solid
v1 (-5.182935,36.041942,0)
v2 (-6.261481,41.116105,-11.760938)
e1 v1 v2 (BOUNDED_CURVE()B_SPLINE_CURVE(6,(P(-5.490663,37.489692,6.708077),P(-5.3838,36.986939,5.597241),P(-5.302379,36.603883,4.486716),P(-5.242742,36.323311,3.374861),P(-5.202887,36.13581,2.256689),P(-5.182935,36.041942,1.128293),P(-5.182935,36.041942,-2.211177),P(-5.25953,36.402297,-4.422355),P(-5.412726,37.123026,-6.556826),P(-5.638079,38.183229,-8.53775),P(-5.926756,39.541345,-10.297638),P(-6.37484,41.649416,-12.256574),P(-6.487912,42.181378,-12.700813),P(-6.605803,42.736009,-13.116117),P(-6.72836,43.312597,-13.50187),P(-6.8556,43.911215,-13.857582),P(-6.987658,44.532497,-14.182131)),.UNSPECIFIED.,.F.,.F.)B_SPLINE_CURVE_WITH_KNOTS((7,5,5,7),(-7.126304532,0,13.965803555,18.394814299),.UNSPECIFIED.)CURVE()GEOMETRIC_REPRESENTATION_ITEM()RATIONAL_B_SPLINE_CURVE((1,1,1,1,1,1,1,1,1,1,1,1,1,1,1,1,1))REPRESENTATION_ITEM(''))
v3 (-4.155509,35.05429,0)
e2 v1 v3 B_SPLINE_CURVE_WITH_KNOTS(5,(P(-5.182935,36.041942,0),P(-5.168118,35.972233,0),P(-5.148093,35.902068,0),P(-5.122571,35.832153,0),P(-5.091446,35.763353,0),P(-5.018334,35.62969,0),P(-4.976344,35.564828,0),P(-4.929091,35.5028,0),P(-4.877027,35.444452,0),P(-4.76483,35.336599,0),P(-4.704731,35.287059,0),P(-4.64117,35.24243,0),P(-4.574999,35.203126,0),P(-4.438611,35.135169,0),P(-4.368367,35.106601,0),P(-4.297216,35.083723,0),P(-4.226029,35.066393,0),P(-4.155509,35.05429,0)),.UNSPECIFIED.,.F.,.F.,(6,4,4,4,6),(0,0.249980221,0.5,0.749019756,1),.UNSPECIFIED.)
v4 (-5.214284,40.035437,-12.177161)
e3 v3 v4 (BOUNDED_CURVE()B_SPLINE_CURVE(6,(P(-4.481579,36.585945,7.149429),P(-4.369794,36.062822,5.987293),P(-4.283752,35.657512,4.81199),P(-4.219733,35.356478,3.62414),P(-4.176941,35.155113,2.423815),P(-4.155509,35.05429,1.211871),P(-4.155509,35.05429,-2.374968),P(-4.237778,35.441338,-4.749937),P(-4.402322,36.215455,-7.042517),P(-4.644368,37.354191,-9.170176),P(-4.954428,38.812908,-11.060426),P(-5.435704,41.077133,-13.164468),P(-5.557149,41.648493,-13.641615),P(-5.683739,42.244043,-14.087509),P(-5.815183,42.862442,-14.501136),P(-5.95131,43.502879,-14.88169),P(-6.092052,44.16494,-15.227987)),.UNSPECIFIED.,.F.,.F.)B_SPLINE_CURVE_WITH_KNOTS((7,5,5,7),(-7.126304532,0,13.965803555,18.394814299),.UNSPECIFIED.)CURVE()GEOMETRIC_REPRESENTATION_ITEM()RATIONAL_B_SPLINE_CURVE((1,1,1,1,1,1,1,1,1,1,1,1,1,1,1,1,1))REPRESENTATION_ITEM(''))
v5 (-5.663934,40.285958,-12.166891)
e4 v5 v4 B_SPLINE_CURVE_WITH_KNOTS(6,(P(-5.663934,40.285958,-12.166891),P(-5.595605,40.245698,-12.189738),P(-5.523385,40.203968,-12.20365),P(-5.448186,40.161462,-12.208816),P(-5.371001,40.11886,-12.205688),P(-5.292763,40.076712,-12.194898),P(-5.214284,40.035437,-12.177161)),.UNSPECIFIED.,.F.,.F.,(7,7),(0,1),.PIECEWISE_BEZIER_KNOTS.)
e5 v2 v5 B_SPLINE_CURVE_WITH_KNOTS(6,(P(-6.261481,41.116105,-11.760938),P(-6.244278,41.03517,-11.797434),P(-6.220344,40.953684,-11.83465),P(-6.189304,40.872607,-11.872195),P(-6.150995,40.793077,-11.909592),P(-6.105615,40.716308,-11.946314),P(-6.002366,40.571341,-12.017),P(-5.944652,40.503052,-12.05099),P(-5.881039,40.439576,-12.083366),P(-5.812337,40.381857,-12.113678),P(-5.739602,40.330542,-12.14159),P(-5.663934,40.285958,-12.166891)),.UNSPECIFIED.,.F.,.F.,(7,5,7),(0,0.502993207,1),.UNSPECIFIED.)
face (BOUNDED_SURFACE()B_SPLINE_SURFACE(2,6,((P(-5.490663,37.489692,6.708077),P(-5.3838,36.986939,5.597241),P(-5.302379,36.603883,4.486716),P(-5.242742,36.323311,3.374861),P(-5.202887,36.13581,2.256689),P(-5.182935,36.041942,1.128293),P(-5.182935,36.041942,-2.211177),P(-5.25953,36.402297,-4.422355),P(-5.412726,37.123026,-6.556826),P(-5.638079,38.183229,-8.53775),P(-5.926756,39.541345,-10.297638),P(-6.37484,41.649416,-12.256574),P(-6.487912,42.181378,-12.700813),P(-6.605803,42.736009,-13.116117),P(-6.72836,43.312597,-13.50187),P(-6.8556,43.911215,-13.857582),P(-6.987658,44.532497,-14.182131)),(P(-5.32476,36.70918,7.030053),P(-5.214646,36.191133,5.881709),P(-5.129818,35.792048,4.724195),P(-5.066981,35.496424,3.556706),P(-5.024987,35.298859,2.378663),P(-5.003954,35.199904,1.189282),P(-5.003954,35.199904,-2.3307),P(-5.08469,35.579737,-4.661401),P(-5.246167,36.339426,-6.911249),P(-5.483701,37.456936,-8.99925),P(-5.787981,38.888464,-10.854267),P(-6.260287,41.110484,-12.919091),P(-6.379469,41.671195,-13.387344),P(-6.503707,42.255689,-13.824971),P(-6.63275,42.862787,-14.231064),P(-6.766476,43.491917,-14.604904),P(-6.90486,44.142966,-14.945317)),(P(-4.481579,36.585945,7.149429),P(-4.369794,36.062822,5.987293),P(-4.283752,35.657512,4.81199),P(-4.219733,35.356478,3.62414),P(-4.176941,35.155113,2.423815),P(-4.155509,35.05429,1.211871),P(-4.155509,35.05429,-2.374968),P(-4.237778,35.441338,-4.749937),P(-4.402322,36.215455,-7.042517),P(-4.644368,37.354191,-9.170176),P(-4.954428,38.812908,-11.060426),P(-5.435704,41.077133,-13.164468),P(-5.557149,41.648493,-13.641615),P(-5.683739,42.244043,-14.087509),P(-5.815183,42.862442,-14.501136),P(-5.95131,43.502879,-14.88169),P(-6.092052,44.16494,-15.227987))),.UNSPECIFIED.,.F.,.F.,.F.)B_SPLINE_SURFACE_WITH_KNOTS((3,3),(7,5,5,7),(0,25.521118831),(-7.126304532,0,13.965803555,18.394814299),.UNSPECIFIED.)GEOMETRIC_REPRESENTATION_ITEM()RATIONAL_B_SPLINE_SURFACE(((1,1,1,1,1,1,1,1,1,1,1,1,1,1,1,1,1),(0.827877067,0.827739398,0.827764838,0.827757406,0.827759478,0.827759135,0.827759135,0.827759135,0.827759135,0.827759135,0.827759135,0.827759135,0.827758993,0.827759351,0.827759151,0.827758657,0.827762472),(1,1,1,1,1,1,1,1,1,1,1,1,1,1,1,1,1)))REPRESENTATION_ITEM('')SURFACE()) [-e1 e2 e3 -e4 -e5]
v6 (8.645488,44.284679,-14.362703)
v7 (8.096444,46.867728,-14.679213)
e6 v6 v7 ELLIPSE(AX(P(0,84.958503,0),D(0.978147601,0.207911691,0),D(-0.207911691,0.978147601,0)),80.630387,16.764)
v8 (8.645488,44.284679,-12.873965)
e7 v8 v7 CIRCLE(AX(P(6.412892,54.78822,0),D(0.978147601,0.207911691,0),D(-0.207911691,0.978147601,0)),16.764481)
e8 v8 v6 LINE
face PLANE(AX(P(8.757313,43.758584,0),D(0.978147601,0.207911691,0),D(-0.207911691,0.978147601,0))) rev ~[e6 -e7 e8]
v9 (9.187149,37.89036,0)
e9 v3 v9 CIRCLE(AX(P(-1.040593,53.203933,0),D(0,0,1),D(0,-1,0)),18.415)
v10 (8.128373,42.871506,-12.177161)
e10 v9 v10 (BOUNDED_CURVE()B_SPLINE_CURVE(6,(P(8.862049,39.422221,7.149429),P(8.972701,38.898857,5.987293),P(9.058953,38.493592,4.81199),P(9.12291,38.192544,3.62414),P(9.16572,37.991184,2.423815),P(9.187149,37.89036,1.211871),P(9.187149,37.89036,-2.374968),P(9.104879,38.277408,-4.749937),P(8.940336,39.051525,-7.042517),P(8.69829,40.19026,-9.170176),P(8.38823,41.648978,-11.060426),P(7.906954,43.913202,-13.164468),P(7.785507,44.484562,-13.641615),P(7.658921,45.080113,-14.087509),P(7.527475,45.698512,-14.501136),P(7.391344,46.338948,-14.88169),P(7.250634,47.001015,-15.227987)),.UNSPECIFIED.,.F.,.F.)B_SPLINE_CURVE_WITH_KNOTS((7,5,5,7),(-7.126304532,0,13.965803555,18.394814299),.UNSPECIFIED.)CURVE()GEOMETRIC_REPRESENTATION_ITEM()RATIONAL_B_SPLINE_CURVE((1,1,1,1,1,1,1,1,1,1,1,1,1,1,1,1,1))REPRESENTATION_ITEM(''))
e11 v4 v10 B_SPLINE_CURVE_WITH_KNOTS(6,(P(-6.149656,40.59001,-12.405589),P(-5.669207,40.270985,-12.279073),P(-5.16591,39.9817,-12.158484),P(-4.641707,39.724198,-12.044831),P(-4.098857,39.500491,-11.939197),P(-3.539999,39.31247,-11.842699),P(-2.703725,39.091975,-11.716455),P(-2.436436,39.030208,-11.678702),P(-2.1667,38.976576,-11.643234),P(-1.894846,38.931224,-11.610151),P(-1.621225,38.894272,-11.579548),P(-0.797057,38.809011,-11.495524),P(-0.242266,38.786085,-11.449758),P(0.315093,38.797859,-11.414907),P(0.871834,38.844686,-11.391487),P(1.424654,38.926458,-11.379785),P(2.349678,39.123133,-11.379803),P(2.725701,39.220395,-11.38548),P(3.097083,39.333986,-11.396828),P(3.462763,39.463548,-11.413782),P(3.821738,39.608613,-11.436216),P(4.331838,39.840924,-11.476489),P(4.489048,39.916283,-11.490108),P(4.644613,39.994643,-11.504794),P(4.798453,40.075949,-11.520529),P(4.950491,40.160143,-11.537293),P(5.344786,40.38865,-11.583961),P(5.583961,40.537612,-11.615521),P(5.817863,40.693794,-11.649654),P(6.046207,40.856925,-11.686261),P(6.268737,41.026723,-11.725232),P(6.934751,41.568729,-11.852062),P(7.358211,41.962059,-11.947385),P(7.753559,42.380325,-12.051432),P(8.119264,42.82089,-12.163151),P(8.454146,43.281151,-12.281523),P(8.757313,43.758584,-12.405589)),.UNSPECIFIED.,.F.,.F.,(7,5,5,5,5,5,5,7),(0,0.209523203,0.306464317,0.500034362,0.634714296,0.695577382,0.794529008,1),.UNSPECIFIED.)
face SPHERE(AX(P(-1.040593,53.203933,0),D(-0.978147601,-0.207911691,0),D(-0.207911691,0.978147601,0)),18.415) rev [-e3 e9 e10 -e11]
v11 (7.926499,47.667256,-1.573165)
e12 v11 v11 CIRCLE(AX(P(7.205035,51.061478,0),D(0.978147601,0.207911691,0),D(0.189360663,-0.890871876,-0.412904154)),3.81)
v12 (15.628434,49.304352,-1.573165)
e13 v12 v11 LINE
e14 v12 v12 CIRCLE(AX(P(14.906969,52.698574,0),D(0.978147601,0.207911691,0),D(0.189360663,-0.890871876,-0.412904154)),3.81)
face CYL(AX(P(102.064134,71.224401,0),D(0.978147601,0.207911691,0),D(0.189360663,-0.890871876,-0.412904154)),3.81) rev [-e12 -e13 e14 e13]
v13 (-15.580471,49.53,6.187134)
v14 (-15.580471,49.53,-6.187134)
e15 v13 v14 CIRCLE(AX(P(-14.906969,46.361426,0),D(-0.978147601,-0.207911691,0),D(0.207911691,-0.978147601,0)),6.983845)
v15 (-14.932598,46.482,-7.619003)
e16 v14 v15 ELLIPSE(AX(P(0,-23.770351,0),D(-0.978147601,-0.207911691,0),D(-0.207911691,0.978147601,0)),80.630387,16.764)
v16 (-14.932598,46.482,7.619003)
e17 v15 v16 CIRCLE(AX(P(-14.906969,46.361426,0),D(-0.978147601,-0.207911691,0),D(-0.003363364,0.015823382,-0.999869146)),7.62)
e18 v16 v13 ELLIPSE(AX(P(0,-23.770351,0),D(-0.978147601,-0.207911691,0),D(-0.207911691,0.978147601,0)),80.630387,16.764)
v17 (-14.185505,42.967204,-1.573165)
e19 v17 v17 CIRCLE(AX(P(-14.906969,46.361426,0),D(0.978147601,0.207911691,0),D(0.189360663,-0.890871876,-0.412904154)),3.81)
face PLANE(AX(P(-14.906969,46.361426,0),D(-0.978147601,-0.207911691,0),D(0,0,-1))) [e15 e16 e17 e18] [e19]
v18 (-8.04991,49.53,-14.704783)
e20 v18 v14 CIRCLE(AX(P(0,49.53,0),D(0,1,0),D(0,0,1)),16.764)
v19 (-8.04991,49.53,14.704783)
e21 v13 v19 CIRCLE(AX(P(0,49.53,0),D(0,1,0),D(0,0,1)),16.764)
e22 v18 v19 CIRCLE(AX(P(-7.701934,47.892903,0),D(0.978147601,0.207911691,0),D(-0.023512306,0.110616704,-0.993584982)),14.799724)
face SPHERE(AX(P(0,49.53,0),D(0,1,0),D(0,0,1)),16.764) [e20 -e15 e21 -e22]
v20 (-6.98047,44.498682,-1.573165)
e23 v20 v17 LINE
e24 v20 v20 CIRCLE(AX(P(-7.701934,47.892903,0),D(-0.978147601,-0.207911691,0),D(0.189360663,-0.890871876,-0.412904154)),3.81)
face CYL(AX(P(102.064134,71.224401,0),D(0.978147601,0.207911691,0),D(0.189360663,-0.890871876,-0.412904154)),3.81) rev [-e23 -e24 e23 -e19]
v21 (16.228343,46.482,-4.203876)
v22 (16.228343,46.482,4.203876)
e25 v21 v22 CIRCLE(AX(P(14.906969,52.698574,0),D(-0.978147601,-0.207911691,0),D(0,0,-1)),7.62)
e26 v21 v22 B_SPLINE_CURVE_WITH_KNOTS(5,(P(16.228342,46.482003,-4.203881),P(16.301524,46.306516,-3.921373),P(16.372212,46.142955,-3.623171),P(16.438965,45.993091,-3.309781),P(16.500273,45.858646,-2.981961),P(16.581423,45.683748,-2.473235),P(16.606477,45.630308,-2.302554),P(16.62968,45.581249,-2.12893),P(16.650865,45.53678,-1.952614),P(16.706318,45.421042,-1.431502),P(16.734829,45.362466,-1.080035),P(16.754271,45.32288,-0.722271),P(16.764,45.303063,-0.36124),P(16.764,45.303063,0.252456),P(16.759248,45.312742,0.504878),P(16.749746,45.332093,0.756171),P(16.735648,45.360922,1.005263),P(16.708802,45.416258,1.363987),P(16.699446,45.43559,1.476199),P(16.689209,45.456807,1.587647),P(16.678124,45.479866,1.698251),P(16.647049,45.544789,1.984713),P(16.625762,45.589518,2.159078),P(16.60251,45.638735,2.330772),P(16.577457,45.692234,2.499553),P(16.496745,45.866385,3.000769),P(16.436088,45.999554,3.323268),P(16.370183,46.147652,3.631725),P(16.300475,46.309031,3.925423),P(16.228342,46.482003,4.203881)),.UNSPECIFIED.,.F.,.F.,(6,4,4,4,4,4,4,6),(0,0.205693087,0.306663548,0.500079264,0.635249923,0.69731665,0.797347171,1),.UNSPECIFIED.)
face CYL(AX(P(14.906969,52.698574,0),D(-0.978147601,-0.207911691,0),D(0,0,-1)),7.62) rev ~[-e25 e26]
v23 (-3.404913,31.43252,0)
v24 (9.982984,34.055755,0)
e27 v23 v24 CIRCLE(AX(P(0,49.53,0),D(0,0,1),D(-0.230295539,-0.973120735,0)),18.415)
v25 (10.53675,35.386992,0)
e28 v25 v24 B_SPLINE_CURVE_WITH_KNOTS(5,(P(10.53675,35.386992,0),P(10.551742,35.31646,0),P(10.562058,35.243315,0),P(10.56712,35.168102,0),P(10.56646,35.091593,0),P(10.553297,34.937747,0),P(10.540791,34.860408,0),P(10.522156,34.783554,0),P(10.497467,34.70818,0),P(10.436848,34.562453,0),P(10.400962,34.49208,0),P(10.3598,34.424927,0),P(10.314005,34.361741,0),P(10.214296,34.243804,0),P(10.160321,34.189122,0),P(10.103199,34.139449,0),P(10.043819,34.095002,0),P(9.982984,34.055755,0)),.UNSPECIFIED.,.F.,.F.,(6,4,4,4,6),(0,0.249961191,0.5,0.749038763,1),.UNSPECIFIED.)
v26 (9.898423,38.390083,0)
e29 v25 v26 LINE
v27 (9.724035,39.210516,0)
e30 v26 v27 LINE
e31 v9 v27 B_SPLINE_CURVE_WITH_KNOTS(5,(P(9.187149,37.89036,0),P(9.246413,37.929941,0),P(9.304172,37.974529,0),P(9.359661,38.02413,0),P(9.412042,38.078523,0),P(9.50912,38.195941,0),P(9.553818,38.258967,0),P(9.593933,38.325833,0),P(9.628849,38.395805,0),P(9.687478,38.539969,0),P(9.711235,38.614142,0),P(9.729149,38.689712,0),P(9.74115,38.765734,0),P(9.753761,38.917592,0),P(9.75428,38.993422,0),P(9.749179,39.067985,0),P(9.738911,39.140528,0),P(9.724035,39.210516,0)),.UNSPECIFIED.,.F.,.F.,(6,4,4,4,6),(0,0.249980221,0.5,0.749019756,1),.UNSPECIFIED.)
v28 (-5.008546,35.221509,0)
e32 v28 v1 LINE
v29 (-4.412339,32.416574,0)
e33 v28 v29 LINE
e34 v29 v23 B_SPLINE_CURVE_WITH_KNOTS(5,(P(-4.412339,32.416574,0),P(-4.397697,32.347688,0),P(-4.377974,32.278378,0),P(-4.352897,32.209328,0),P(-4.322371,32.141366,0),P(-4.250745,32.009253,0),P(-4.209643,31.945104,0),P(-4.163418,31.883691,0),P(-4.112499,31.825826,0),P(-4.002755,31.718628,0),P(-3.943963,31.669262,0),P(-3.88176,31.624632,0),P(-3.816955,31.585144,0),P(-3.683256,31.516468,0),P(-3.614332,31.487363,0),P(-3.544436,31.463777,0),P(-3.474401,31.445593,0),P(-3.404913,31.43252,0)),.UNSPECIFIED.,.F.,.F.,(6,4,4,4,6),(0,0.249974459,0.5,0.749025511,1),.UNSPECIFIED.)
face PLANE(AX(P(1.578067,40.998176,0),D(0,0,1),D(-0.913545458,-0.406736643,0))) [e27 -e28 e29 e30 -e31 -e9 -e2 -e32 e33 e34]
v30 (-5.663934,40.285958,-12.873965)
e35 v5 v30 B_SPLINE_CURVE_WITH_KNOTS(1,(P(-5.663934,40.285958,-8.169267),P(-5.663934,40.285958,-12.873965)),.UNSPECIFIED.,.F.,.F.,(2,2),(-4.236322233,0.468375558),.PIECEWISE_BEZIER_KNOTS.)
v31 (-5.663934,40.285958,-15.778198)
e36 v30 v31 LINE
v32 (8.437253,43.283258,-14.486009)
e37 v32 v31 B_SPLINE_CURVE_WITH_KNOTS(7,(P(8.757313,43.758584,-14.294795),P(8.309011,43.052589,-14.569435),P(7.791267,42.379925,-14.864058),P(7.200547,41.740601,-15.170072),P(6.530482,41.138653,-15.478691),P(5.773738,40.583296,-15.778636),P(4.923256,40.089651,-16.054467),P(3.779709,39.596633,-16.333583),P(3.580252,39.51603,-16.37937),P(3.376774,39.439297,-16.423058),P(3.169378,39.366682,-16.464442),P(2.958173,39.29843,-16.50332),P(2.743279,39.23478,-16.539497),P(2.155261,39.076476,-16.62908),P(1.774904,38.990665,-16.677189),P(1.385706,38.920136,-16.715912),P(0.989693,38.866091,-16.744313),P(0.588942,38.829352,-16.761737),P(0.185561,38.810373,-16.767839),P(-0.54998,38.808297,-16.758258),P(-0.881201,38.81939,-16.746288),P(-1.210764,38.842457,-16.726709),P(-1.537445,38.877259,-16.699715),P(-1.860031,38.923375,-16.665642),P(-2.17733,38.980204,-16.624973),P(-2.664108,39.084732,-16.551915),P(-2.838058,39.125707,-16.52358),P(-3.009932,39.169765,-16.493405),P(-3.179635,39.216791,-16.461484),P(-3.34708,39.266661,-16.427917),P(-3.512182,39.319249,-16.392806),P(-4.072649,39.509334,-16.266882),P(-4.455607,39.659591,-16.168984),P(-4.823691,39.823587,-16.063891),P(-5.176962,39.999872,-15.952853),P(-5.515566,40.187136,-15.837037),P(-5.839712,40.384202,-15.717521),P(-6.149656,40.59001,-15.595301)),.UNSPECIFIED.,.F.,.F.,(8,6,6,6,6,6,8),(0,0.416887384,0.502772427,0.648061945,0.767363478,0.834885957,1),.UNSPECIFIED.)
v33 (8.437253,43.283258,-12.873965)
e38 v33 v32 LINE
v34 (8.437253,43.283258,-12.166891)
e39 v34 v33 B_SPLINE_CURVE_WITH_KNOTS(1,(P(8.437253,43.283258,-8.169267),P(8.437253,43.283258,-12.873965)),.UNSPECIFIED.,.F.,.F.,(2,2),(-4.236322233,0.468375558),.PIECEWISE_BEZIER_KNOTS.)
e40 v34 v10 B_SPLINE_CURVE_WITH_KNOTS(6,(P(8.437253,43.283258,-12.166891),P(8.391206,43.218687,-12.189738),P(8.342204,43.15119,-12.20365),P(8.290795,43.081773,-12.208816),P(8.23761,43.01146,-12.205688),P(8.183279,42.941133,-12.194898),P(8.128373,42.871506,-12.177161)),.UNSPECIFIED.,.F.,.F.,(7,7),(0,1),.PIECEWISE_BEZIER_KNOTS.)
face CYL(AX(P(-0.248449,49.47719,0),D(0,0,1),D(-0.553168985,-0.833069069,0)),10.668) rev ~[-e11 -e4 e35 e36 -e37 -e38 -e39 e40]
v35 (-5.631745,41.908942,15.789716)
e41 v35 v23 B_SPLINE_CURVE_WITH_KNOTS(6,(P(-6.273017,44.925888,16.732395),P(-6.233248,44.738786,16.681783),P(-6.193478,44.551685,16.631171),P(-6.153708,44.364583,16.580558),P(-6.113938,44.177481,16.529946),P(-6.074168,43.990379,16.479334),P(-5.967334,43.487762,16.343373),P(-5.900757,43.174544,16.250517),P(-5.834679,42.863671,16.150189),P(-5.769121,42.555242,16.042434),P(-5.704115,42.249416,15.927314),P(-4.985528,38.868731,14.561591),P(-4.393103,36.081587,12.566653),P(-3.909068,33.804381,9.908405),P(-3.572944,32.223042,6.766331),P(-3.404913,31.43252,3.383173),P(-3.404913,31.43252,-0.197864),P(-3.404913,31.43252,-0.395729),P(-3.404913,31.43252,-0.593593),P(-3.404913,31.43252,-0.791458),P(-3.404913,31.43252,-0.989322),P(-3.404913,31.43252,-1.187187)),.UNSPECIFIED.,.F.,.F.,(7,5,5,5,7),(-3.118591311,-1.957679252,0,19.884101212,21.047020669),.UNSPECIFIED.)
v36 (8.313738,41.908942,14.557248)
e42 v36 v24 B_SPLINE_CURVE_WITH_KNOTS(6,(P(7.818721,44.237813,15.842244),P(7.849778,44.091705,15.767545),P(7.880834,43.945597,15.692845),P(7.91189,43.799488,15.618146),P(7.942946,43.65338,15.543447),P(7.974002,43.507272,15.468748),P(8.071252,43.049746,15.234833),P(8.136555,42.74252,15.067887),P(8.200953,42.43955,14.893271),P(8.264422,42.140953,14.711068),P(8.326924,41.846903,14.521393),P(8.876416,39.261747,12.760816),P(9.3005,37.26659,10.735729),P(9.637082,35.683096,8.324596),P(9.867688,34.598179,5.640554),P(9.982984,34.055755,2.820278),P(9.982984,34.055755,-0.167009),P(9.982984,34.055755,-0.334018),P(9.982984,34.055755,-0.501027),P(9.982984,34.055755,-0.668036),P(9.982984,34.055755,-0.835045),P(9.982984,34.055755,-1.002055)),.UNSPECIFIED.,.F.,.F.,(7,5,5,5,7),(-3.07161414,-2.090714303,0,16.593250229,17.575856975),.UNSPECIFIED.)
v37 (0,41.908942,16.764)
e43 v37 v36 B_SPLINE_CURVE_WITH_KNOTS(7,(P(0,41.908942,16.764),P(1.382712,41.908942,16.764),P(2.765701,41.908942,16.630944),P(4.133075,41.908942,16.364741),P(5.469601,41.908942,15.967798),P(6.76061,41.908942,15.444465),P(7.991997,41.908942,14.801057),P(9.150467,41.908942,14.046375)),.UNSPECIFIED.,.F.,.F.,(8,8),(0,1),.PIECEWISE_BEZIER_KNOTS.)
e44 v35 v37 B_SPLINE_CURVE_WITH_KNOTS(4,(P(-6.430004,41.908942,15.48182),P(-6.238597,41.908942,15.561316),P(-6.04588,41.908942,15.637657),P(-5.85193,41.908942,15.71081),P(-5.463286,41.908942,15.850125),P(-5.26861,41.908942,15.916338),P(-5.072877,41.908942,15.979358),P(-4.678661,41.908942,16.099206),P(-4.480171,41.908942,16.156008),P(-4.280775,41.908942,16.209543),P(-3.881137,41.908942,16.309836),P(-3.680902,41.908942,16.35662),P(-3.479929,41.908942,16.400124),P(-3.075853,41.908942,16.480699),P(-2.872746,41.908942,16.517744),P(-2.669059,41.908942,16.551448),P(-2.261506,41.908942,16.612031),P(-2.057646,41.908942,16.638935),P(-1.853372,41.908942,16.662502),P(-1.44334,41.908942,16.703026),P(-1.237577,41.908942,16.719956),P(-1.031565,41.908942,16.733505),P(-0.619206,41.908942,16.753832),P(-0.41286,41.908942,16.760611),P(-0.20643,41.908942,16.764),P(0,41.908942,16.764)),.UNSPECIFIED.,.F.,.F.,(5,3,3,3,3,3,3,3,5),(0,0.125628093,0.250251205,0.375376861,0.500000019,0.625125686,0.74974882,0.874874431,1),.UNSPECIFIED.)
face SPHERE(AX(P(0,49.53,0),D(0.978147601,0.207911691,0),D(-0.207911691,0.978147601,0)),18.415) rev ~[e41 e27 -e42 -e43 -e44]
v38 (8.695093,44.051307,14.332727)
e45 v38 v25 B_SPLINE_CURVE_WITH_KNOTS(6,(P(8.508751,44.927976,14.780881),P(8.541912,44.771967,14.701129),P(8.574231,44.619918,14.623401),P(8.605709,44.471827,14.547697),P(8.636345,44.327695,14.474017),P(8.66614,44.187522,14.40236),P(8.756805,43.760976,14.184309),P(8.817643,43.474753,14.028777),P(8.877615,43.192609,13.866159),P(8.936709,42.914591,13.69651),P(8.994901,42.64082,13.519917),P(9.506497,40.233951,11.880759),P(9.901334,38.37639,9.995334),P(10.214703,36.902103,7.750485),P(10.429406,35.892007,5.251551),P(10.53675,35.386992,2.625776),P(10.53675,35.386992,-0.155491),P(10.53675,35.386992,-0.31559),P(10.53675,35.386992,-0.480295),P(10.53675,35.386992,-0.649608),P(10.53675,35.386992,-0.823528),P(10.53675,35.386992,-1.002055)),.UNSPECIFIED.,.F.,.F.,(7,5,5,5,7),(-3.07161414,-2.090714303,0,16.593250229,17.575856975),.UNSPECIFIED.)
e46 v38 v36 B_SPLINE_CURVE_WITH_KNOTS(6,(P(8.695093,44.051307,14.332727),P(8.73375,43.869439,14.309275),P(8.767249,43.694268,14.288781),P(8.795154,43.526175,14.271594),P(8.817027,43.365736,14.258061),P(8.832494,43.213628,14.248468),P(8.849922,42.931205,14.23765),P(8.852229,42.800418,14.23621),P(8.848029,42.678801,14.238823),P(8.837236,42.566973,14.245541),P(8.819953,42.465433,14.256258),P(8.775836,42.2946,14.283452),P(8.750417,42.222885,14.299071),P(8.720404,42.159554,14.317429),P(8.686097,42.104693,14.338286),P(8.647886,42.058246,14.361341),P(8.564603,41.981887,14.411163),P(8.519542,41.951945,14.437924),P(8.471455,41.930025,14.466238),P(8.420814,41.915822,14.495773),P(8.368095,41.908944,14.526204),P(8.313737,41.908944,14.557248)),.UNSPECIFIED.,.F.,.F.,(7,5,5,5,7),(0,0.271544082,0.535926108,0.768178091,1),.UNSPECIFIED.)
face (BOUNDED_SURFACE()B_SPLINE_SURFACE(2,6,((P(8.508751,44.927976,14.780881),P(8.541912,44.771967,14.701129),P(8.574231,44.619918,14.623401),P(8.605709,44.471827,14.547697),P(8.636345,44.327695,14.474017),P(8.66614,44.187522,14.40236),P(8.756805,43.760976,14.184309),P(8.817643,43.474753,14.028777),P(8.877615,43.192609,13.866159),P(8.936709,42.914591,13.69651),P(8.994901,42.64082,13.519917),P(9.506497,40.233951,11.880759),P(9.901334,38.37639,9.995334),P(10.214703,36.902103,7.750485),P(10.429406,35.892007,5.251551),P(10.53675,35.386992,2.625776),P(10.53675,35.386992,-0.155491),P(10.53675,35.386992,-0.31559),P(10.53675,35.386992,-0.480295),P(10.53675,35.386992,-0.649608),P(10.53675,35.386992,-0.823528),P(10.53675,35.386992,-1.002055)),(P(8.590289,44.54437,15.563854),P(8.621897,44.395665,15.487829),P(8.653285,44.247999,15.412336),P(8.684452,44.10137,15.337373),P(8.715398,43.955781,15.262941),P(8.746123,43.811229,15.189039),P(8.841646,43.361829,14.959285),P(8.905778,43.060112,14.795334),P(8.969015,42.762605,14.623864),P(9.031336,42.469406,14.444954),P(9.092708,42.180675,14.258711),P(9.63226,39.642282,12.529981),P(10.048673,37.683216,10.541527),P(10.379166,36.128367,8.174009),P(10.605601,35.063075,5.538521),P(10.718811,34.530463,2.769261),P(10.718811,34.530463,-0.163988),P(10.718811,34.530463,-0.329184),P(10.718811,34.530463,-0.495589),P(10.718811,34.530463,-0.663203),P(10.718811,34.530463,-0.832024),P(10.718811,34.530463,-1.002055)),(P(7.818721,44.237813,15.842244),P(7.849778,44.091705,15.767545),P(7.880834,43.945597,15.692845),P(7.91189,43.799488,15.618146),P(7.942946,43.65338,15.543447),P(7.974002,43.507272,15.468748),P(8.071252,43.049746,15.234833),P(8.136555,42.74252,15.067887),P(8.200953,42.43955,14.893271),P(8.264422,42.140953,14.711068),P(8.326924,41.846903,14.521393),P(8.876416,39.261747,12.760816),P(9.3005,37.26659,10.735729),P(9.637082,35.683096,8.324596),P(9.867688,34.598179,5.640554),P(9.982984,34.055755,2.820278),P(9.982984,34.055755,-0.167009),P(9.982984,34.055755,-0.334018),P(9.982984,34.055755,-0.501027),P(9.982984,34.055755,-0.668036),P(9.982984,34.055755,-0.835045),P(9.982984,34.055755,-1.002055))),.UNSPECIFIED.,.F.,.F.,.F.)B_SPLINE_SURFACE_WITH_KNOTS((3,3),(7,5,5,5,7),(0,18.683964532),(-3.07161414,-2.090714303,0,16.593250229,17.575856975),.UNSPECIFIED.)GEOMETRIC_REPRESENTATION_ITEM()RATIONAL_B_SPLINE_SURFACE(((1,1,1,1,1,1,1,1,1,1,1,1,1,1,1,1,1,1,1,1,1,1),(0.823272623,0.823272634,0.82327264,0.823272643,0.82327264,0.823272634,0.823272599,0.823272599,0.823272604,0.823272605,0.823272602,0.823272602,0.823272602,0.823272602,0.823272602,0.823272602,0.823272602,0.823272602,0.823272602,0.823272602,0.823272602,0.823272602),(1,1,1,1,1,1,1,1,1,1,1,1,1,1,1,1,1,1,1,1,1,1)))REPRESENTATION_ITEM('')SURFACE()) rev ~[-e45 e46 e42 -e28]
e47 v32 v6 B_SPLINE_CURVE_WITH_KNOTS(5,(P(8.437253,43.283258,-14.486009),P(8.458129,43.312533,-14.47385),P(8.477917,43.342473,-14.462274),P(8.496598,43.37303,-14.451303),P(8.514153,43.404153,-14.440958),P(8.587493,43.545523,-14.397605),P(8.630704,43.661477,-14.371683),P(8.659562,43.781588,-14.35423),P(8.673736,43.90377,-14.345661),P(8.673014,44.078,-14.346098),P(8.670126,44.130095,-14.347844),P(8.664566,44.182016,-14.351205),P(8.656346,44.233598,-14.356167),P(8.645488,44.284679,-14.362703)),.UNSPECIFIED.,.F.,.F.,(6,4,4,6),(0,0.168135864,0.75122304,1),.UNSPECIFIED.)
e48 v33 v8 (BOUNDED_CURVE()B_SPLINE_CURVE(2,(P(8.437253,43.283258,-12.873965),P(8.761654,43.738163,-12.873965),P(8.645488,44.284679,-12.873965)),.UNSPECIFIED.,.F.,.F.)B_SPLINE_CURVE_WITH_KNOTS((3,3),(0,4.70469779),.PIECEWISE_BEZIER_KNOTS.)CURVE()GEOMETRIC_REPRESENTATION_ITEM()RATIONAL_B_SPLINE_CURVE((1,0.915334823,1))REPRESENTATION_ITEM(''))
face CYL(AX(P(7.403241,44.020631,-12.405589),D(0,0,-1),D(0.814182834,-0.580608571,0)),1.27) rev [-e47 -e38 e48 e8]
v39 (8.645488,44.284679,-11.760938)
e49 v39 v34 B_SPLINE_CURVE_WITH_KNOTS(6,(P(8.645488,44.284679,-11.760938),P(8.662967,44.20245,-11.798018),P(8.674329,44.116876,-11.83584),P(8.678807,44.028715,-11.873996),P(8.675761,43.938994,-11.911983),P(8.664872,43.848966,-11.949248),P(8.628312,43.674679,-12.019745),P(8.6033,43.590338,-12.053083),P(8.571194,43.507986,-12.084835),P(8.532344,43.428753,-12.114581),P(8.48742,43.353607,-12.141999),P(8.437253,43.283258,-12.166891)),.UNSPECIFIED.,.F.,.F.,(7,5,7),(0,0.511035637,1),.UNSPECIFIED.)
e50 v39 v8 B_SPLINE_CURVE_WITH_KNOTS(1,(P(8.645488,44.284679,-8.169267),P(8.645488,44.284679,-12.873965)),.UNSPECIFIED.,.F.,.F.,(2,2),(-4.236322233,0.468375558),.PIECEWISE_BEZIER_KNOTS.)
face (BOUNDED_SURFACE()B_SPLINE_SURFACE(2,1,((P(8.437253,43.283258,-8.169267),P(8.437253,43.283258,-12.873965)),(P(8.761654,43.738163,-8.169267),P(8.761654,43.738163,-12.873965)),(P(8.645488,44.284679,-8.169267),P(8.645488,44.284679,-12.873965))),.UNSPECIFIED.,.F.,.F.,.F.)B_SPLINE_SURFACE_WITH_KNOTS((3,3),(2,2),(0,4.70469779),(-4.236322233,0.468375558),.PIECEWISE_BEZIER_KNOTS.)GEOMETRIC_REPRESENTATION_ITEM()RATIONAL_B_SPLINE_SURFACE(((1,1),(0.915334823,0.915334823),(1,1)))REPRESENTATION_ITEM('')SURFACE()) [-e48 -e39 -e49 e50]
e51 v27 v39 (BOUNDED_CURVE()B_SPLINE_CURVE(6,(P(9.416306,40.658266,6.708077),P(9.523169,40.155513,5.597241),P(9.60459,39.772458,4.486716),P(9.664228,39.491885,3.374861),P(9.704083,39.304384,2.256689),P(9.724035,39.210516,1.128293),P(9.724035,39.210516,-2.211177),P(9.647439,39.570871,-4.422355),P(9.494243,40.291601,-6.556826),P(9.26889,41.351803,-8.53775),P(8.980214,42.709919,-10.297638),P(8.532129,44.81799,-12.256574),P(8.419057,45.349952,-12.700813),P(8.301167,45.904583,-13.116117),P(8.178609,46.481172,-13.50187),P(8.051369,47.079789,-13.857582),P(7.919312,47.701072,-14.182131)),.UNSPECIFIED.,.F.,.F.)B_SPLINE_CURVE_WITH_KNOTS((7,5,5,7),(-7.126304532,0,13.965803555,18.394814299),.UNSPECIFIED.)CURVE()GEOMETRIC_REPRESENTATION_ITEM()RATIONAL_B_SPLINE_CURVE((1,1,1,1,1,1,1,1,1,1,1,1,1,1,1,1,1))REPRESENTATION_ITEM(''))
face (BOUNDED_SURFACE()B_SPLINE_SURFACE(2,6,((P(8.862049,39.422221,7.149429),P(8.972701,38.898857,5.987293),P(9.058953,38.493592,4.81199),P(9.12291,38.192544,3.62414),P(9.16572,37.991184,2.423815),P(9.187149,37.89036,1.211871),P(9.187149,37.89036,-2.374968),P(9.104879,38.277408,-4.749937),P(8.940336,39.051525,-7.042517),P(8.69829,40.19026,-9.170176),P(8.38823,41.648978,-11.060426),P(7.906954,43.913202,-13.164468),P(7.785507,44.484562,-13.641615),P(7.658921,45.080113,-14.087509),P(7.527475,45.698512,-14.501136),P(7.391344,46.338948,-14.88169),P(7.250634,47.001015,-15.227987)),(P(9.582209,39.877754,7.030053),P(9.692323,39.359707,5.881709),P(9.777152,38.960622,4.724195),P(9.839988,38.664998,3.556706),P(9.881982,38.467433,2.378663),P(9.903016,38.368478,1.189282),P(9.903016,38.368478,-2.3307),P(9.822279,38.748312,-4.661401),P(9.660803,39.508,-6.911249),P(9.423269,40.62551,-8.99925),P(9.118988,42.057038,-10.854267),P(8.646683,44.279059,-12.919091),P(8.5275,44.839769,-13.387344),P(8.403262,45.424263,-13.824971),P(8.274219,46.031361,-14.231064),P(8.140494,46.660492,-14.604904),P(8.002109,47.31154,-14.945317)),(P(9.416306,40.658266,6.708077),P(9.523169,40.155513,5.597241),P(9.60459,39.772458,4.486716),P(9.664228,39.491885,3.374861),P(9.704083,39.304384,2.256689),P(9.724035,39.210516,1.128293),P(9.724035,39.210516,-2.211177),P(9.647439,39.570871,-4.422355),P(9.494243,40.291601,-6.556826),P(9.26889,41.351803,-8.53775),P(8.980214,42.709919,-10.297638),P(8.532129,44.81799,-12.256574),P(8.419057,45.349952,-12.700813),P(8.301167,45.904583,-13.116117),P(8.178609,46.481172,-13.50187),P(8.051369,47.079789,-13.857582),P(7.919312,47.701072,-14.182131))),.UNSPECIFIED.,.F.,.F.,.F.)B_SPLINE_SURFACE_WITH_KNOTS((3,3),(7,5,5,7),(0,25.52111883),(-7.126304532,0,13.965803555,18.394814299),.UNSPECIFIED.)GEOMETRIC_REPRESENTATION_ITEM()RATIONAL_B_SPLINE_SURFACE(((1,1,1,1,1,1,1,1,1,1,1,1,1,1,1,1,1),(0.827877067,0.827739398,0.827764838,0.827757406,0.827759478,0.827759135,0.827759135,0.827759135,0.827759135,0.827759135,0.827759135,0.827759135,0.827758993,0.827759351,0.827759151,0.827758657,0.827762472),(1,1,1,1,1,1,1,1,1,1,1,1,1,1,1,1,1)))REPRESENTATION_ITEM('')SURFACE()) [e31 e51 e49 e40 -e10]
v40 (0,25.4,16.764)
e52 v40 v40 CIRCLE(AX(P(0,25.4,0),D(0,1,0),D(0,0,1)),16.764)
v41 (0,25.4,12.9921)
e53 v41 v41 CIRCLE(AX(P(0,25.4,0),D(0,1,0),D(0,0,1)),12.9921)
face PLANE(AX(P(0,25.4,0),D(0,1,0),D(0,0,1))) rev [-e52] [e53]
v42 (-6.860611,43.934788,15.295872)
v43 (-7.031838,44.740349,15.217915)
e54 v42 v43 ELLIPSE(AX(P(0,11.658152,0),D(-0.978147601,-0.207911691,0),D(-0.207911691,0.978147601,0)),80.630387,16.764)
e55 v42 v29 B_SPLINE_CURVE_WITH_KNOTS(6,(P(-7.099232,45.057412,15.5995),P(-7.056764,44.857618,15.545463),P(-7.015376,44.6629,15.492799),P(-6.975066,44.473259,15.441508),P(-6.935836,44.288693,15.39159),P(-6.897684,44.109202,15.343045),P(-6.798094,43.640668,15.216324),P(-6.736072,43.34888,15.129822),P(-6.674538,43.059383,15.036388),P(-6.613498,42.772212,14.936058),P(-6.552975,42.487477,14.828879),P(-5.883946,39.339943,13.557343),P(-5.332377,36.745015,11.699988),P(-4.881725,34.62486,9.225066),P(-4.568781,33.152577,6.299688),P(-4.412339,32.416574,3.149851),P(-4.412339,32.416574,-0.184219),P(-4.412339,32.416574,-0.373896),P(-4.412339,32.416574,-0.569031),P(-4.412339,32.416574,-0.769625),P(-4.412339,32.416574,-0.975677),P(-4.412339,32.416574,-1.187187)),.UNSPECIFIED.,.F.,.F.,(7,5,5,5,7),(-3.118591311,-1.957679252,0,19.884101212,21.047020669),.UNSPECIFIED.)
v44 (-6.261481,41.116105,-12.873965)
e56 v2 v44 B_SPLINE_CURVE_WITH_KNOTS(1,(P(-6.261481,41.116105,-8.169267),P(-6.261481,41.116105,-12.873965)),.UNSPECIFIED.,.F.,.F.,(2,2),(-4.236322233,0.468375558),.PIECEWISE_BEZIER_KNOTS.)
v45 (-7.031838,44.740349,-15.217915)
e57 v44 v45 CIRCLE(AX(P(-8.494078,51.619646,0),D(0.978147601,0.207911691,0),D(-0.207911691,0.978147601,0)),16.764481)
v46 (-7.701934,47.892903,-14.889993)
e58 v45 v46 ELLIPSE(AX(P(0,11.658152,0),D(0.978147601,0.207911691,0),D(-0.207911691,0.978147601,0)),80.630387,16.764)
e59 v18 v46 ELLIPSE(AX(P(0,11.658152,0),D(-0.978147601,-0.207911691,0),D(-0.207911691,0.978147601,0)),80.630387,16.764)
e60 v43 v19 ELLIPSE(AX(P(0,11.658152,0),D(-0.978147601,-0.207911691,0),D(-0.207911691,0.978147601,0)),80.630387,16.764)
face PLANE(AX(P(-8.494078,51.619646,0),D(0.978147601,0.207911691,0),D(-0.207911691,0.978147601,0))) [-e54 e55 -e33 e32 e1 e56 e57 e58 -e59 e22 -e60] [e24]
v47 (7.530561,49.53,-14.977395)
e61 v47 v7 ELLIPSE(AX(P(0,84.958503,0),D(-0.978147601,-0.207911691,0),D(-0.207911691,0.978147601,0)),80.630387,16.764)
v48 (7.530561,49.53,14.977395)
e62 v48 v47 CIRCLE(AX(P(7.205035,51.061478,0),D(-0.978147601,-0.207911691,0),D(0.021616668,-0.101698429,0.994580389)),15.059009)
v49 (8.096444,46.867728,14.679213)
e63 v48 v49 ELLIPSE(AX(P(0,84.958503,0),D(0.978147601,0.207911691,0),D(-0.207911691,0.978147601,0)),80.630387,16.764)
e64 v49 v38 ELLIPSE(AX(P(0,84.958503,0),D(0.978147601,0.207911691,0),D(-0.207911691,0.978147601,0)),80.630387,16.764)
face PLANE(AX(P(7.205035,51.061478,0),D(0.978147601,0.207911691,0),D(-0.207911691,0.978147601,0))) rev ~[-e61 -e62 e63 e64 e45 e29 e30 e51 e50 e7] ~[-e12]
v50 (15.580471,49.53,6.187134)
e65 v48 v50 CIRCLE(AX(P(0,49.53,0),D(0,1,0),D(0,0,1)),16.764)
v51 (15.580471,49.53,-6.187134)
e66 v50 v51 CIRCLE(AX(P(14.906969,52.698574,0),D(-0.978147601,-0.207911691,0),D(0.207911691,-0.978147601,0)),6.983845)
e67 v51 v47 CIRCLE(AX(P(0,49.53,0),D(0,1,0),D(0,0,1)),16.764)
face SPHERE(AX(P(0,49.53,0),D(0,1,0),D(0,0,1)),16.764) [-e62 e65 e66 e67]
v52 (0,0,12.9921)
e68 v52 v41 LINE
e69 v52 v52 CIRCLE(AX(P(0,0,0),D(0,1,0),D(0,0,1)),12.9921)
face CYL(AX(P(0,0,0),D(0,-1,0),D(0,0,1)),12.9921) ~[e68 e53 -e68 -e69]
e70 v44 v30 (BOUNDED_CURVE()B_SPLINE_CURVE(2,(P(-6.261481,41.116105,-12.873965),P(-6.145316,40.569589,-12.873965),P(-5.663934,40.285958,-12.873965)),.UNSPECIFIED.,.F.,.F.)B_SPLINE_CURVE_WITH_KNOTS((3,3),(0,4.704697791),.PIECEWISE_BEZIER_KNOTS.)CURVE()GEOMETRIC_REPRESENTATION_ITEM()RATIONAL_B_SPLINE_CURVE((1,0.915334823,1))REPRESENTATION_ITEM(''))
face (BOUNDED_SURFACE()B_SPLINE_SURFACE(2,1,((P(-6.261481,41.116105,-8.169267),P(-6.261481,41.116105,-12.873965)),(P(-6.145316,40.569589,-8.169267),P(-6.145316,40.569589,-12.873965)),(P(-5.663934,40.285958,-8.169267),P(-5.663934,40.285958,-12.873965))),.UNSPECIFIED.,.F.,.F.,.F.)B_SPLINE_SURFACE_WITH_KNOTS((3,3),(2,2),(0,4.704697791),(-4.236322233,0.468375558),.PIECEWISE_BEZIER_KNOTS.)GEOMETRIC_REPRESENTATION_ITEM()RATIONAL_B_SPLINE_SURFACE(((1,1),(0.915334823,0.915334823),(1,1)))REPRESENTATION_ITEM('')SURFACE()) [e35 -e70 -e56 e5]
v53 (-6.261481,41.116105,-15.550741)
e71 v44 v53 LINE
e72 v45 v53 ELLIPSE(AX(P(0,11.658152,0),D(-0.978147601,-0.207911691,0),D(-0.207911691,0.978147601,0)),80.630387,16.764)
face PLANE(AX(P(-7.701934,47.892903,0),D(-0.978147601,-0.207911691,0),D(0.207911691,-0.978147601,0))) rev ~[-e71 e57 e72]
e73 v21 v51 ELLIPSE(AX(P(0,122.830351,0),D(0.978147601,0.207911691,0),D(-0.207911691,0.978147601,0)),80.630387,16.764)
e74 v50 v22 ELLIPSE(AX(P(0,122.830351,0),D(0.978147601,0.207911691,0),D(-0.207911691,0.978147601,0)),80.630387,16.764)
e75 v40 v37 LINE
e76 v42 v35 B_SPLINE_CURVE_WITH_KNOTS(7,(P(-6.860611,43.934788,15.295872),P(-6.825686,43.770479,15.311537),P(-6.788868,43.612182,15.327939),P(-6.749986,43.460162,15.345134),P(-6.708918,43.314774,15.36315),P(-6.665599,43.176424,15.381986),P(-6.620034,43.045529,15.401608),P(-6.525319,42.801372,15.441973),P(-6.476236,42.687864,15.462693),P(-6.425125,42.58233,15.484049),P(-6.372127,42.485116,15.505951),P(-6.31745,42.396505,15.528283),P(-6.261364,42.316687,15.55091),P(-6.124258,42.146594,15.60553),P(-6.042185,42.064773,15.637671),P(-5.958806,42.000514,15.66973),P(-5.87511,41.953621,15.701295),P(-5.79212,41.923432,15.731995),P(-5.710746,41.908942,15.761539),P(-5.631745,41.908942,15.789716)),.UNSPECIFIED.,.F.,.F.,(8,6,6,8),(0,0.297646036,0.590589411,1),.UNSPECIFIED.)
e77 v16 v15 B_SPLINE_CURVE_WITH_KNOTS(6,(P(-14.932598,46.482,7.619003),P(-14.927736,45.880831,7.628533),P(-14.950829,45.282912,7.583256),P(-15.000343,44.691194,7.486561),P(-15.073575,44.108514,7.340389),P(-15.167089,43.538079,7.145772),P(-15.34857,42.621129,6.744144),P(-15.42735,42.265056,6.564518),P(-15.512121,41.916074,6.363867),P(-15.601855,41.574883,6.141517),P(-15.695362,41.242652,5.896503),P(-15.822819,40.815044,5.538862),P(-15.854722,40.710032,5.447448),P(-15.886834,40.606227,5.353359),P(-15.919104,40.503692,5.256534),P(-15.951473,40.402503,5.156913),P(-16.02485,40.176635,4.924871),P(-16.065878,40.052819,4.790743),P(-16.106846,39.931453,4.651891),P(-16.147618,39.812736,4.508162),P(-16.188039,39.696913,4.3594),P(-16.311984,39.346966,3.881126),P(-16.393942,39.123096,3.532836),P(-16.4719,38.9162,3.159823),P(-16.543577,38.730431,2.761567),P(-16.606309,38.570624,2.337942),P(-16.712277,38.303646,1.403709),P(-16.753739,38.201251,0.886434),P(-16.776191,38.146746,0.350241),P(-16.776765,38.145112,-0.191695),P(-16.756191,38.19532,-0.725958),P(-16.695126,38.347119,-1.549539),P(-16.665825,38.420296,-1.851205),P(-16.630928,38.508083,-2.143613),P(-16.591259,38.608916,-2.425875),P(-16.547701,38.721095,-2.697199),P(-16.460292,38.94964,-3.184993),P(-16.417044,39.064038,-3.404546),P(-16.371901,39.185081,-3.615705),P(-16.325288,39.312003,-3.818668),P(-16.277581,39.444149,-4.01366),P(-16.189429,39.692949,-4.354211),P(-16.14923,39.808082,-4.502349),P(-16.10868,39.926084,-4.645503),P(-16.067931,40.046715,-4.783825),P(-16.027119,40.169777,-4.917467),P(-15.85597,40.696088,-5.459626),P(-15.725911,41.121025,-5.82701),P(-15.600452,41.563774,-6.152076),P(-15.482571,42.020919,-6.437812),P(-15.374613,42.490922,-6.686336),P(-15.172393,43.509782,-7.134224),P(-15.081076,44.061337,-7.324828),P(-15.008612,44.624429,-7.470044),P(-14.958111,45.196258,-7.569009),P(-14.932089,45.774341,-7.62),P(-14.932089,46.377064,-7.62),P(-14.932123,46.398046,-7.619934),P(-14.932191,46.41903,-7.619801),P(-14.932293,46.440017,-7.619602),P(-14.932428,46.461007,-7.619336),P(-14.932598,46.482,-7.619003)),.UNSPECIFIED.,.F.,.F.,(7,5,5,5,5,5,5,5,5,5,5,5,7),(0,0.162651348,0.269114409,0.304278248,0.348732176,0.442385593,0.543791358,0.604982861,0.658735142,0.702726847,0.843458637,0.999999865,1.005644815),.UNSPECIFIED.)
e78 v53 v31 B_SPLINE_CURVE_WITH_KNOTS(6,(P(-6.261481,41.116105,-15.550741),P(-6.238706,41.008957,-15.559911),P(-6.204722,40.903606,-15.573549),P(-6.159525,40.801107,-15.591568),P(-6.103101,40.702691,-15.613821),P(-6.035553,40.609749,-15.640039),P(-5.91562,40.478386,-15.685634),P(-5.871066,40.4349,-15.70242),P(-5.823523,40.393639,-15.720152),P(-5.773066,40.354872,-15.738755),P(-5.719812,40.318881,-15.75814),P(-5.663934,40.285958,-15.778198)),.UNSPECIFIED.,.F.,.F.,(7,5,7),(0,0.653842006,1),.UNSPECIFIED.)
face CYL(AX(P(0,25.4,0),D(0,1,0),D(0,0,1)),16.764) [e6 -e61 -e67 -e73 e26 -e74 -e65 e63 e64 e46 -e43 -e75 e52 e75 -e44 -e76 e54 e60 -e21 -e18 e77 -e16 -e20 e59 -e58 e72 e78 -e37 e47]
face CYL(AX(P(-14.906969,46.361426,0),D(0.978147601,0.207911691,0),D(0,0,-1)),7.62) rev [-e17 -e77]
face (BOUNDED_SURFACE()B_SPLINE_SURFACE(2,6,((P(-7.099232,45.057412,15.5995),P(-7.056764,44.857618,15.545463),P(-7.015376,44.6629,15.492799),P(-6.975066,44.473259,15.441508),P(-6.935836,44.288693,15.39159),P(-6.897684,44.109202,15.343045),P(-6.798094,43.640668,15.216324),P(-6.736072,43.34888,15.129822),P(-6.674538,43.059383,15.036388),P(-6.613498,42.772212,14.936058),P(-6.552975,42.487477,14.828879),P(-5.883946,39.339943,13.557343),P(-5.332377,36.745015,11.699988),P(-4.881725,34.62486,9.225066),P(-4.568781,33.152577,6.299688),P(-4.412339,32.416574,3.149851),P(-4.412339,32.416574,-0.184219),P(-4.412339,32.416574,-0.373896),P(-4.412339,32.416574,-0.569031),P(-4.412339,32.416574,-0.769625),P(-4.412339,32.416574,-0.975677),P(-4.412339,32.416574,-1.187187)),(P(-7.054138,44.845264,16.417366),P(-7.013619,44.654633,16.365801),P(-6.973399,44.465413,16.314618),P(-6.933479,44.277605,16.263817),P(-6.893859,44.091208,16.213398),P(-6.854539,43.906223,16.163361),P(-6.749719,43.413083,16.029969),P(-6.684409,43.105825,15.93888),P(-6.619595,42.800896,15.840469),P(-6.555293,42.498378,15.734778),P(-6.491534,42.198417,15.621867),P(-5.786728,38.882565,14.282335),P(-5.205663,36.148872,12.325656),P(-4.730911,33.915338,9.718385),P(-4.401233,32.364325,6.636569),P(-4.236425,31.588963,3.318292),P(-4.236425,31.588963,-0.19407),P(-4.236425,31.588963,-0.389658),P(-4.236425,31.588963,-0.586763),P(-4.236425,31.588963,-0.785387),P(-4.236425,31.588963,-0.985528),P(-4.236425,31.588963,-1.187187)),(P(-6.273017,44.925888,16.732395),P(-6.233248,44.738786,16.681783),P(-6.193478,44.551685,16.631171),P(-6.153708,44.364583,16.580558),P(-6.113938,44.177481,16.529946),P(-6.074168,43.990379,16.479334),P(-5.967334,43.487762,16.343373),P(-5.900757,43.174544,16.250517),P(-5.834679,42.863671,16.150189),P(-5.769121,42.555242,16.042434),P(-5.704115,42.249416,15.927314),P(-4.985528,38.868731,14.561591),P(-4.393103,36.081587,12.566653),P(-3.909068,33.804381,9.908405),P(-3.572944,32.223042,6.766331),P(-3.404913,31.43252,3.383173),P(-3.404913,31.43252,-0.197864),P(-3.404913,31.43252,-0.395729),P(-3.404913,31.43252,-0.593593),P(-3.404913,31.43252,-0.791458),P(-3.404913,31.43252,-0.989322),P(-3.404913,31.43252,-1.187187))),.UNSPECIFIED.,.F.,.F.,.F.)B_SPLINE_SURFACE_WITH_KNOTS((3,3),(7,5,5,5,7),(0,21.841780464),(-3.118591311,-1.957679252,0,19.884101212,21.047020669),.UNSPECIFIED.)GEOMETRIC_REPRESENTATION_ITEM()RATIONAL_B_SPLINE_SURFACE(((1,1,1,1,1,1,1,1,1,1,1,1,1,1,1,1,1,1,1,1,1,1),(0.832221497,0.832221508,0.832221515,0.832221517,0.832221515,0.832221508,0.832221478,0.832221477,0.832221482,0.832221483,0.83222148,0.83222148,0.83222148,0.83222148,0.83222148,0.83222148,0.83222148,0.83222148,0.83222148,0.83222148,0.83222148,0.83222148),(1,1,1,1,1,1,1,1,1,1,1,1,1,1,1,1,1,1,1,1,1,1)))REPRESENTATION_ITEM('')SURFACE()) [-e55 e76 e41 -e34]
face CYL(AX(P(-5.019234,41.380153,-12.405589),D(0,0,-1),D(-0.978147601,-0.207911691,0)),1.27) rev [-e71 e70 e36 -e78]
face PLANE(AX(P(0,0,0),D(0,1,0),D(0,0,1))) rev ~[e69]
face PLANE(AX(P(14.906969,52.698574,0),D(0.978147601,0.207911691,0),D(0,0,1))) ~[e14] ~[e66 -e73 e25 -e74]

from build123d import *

# Parameters (mm, degrees)
SKETCH1_R                     = 12.9921
BOSS_EXTRUDE1_DEPTH           = 25.4
CUT_EXTRUDE1_DEPTH            = 104.344307451
CUT_EXTRUDE1_DEPTH_BACK       = 104.344307451
SKETCH3_R                     = 3.81
CUT_REVOLVE10_ANGLE           = 90
CUT_REVOLVE10_OTHER_WAY_ANGLE = 180
CUT_EXTRUDE4_DEPTH            = 32.004
FILLET1_R                     = 1.27
SKETCH15_R                    = 7.62
CUT_EXTRUDE5_DEPTH            = 10.16


with BuildPart() as part:
    # Sketch1 → Boss-Extrude1 (new body)
    with BuildSketch(Plane(origin=(0, 0, 0), x_dir=(1, 0, 0), z_dir=(0, 1, 0))):
        Circle(SKETCH1_R)
    extrude(amount=BOSS_EXTRUDE1_DEPTH)

    # Sketch2 → Revolve1 (revolve)
    with BuildSketch(Plane(origin=(0, 0, 0), x_dir=(0, 0, -1), z_dir=(1, 0, 0))):
        with BuildLine():
            Line((-16.764, 25.4), (-16.764, 49.53))
            ThreePointArc((-16.764, 49.53), (-11.85393808, 61.38393808), (0, 66.294))
            Line((0, 66.294), (0, 25.4))
            Line((0, 25.4), (-16.764, 25.4))
        make_face()
    revolve(axis=Axis((0, 25.4, 0), (0, 1, 0)))

    # Sketch3 → Cut-Extrude1 (cut, two sides: drawn at the far end of the back side and taken through both)
    with BuildSketch(Plane(origin=(-10.366451402, 98.300319395, 0), x_dir=(0, 0, -1), z_dir=(-0.9781476007338062, -0.20791169081775643, 0)).offset(-CUT_EXTRUDE1_DEPTH_BACK)):
        with Locations((0, 49.859877342)):
            Circle(SKETCH3_R)
    extrude(amount=CUT_EXTRUDE1_DEPTH + CUT_EXTRUDE1_DEPTH_BACK, mode=Mode.SUBTRACT)

    # Sketch11 → Cut-Revolve10 (revolve, cut)
    with BuildSketch(Plane.XY):
        with BuildLine():
            Line((-7.701934208, 47.892903347), (-11.162976054, 64.175825024))
            ThreePointArc((-11.162976054, 64.175825024), (-4.101170935, 67.482510185), (3.695979409, 67.570287171))
            Line((3.695979409, 67.570287171), (7.205035227, 51.061477515))
            Line((7.205035227, 51.061477515), (-7.701934208, 47.892903347))
        make_face()
    revolve(axis=Axis((17.487516564, 53.247086393, 0), (-0.9781476007338064, -0.2079116908177564, 0)), revolution_arc=CUT_REVOLVE10_ANGLE, mode=Mode.SUBTRACT)

    # Sketch11 → Cut-Revolve10 other way (revolve, cut)
    with BuildSketch(Plane.XY):
        with BuildLine():
            Line((-7.701934208, 47.892903347), (-11.162976054, 64.175825024))
            ThreePointArc((-11.162976054, 64.175825024), (-4.101170935, 67.482510185), (3.695979409, 67.570287171))
            Line((3.695979409, 67.570287171), (7.205035227, 51.061477515))
            Line((7.205035227, 51.061477515), (-7.701934208, 47.892903347))
        make_face()
    revolve(axis=Axis((17.487516564, 53.247086393, 0), (0.9781476007338064, 0.2079116908177564, 0)), revolution_arc=CUT_REVOLVE10_OTHER_WAY_ANGLE, mode=Mode.SUBTRACT)

    # Sketch13 → Cut-Revolve11 (revolve, cut)
    with BuildSketch(Plane.XY):
        with BuildLine():
            Line((-8.49407775, 51.619645705), (6.412891685, 54.788219873))
            Line((6.412891685, 54.788219873), (2.927360083, 71.186356794))
            ThreePointArc((2.927360083, 71.186356794), (-4.869286819, 71.216520857), (-11.979609352, 68.017782626))
            Line((-11.979609352, 68.017782626), (-8.49407775, 51.619645705))
        make_face()
    revolve(axis=Axis((-8.49407775, 51.619645705, 0), (0.9781476007338064, 0.20791169081775637, 0)), mode=Mode.SUBTRACT)

    # Sketch14 → Cut-Extrude4 (cut)
    with BuildSketch(Plane.XY):
        with BuildLine():
            Line((-7.701934208, 47.892903347), (-6.149656223, 40.590009601))
            ThreePointArc((-6.149656223, 40.590009601), (1.969552427, 39.042311826), (8.757313212, 43.758583769))
            Line((8.757313212, 43.758583769), (7.205035227, 51.061477515))
            Line((7.205035227, 51.061477515), (-7.701934208, 47.892903347))
        make_face()
    extrude(amount=-CUT_EXTRUDE4_DEPTH, mode=Mode.SUBTRACT)

    # Fillet1
    fillet1_edges = [part.edges().sort_by_distance(p)[0] for p in [
        (-4.840027967, 34.428693074, 9.361457334),
        (-5.306564153, 36.623573262, -6.782727573),
        (-6.149656223, 40.590009601, -14.000445211),
        (8.757313212, 43.758583769, -13.350191985),
        (9.600405282, 39.79214743, -6.782727573),
        (10.298585015, 36.507470038, 7.966497668),
    ]]
    fillet(fillet1_edges, radius=FILLET1_R)

    # Sketch15 → Cut-Extrude5 (cut)
    with BuildSketch(Plane(origin=(-4.834136469, -1.027527427, 0), x_dir=(0, 0, -1), z_dir=(-0.9781476007338062, -0.20791169081775643, 0))):
        with Locations((0, -48.447650664)):
            Circle(SKETCH15_R)
    cut_extrude5 = extrude(amount=CUT_EXTRUDE5_DEPTH, mode=Mode.SUBTRACT)

    # Mirror1: Cut-Extrude5 across plane
    add(cut_extrude5.mirror(Plane(origin=(10.072832966, 2.141046741, 0), x_dir=(0, 0, 1), z_dir=(-0.9781476007338062, -0.20791169081775643, 0))), mode=Mode.SUBTRACT)


solid = part.part
